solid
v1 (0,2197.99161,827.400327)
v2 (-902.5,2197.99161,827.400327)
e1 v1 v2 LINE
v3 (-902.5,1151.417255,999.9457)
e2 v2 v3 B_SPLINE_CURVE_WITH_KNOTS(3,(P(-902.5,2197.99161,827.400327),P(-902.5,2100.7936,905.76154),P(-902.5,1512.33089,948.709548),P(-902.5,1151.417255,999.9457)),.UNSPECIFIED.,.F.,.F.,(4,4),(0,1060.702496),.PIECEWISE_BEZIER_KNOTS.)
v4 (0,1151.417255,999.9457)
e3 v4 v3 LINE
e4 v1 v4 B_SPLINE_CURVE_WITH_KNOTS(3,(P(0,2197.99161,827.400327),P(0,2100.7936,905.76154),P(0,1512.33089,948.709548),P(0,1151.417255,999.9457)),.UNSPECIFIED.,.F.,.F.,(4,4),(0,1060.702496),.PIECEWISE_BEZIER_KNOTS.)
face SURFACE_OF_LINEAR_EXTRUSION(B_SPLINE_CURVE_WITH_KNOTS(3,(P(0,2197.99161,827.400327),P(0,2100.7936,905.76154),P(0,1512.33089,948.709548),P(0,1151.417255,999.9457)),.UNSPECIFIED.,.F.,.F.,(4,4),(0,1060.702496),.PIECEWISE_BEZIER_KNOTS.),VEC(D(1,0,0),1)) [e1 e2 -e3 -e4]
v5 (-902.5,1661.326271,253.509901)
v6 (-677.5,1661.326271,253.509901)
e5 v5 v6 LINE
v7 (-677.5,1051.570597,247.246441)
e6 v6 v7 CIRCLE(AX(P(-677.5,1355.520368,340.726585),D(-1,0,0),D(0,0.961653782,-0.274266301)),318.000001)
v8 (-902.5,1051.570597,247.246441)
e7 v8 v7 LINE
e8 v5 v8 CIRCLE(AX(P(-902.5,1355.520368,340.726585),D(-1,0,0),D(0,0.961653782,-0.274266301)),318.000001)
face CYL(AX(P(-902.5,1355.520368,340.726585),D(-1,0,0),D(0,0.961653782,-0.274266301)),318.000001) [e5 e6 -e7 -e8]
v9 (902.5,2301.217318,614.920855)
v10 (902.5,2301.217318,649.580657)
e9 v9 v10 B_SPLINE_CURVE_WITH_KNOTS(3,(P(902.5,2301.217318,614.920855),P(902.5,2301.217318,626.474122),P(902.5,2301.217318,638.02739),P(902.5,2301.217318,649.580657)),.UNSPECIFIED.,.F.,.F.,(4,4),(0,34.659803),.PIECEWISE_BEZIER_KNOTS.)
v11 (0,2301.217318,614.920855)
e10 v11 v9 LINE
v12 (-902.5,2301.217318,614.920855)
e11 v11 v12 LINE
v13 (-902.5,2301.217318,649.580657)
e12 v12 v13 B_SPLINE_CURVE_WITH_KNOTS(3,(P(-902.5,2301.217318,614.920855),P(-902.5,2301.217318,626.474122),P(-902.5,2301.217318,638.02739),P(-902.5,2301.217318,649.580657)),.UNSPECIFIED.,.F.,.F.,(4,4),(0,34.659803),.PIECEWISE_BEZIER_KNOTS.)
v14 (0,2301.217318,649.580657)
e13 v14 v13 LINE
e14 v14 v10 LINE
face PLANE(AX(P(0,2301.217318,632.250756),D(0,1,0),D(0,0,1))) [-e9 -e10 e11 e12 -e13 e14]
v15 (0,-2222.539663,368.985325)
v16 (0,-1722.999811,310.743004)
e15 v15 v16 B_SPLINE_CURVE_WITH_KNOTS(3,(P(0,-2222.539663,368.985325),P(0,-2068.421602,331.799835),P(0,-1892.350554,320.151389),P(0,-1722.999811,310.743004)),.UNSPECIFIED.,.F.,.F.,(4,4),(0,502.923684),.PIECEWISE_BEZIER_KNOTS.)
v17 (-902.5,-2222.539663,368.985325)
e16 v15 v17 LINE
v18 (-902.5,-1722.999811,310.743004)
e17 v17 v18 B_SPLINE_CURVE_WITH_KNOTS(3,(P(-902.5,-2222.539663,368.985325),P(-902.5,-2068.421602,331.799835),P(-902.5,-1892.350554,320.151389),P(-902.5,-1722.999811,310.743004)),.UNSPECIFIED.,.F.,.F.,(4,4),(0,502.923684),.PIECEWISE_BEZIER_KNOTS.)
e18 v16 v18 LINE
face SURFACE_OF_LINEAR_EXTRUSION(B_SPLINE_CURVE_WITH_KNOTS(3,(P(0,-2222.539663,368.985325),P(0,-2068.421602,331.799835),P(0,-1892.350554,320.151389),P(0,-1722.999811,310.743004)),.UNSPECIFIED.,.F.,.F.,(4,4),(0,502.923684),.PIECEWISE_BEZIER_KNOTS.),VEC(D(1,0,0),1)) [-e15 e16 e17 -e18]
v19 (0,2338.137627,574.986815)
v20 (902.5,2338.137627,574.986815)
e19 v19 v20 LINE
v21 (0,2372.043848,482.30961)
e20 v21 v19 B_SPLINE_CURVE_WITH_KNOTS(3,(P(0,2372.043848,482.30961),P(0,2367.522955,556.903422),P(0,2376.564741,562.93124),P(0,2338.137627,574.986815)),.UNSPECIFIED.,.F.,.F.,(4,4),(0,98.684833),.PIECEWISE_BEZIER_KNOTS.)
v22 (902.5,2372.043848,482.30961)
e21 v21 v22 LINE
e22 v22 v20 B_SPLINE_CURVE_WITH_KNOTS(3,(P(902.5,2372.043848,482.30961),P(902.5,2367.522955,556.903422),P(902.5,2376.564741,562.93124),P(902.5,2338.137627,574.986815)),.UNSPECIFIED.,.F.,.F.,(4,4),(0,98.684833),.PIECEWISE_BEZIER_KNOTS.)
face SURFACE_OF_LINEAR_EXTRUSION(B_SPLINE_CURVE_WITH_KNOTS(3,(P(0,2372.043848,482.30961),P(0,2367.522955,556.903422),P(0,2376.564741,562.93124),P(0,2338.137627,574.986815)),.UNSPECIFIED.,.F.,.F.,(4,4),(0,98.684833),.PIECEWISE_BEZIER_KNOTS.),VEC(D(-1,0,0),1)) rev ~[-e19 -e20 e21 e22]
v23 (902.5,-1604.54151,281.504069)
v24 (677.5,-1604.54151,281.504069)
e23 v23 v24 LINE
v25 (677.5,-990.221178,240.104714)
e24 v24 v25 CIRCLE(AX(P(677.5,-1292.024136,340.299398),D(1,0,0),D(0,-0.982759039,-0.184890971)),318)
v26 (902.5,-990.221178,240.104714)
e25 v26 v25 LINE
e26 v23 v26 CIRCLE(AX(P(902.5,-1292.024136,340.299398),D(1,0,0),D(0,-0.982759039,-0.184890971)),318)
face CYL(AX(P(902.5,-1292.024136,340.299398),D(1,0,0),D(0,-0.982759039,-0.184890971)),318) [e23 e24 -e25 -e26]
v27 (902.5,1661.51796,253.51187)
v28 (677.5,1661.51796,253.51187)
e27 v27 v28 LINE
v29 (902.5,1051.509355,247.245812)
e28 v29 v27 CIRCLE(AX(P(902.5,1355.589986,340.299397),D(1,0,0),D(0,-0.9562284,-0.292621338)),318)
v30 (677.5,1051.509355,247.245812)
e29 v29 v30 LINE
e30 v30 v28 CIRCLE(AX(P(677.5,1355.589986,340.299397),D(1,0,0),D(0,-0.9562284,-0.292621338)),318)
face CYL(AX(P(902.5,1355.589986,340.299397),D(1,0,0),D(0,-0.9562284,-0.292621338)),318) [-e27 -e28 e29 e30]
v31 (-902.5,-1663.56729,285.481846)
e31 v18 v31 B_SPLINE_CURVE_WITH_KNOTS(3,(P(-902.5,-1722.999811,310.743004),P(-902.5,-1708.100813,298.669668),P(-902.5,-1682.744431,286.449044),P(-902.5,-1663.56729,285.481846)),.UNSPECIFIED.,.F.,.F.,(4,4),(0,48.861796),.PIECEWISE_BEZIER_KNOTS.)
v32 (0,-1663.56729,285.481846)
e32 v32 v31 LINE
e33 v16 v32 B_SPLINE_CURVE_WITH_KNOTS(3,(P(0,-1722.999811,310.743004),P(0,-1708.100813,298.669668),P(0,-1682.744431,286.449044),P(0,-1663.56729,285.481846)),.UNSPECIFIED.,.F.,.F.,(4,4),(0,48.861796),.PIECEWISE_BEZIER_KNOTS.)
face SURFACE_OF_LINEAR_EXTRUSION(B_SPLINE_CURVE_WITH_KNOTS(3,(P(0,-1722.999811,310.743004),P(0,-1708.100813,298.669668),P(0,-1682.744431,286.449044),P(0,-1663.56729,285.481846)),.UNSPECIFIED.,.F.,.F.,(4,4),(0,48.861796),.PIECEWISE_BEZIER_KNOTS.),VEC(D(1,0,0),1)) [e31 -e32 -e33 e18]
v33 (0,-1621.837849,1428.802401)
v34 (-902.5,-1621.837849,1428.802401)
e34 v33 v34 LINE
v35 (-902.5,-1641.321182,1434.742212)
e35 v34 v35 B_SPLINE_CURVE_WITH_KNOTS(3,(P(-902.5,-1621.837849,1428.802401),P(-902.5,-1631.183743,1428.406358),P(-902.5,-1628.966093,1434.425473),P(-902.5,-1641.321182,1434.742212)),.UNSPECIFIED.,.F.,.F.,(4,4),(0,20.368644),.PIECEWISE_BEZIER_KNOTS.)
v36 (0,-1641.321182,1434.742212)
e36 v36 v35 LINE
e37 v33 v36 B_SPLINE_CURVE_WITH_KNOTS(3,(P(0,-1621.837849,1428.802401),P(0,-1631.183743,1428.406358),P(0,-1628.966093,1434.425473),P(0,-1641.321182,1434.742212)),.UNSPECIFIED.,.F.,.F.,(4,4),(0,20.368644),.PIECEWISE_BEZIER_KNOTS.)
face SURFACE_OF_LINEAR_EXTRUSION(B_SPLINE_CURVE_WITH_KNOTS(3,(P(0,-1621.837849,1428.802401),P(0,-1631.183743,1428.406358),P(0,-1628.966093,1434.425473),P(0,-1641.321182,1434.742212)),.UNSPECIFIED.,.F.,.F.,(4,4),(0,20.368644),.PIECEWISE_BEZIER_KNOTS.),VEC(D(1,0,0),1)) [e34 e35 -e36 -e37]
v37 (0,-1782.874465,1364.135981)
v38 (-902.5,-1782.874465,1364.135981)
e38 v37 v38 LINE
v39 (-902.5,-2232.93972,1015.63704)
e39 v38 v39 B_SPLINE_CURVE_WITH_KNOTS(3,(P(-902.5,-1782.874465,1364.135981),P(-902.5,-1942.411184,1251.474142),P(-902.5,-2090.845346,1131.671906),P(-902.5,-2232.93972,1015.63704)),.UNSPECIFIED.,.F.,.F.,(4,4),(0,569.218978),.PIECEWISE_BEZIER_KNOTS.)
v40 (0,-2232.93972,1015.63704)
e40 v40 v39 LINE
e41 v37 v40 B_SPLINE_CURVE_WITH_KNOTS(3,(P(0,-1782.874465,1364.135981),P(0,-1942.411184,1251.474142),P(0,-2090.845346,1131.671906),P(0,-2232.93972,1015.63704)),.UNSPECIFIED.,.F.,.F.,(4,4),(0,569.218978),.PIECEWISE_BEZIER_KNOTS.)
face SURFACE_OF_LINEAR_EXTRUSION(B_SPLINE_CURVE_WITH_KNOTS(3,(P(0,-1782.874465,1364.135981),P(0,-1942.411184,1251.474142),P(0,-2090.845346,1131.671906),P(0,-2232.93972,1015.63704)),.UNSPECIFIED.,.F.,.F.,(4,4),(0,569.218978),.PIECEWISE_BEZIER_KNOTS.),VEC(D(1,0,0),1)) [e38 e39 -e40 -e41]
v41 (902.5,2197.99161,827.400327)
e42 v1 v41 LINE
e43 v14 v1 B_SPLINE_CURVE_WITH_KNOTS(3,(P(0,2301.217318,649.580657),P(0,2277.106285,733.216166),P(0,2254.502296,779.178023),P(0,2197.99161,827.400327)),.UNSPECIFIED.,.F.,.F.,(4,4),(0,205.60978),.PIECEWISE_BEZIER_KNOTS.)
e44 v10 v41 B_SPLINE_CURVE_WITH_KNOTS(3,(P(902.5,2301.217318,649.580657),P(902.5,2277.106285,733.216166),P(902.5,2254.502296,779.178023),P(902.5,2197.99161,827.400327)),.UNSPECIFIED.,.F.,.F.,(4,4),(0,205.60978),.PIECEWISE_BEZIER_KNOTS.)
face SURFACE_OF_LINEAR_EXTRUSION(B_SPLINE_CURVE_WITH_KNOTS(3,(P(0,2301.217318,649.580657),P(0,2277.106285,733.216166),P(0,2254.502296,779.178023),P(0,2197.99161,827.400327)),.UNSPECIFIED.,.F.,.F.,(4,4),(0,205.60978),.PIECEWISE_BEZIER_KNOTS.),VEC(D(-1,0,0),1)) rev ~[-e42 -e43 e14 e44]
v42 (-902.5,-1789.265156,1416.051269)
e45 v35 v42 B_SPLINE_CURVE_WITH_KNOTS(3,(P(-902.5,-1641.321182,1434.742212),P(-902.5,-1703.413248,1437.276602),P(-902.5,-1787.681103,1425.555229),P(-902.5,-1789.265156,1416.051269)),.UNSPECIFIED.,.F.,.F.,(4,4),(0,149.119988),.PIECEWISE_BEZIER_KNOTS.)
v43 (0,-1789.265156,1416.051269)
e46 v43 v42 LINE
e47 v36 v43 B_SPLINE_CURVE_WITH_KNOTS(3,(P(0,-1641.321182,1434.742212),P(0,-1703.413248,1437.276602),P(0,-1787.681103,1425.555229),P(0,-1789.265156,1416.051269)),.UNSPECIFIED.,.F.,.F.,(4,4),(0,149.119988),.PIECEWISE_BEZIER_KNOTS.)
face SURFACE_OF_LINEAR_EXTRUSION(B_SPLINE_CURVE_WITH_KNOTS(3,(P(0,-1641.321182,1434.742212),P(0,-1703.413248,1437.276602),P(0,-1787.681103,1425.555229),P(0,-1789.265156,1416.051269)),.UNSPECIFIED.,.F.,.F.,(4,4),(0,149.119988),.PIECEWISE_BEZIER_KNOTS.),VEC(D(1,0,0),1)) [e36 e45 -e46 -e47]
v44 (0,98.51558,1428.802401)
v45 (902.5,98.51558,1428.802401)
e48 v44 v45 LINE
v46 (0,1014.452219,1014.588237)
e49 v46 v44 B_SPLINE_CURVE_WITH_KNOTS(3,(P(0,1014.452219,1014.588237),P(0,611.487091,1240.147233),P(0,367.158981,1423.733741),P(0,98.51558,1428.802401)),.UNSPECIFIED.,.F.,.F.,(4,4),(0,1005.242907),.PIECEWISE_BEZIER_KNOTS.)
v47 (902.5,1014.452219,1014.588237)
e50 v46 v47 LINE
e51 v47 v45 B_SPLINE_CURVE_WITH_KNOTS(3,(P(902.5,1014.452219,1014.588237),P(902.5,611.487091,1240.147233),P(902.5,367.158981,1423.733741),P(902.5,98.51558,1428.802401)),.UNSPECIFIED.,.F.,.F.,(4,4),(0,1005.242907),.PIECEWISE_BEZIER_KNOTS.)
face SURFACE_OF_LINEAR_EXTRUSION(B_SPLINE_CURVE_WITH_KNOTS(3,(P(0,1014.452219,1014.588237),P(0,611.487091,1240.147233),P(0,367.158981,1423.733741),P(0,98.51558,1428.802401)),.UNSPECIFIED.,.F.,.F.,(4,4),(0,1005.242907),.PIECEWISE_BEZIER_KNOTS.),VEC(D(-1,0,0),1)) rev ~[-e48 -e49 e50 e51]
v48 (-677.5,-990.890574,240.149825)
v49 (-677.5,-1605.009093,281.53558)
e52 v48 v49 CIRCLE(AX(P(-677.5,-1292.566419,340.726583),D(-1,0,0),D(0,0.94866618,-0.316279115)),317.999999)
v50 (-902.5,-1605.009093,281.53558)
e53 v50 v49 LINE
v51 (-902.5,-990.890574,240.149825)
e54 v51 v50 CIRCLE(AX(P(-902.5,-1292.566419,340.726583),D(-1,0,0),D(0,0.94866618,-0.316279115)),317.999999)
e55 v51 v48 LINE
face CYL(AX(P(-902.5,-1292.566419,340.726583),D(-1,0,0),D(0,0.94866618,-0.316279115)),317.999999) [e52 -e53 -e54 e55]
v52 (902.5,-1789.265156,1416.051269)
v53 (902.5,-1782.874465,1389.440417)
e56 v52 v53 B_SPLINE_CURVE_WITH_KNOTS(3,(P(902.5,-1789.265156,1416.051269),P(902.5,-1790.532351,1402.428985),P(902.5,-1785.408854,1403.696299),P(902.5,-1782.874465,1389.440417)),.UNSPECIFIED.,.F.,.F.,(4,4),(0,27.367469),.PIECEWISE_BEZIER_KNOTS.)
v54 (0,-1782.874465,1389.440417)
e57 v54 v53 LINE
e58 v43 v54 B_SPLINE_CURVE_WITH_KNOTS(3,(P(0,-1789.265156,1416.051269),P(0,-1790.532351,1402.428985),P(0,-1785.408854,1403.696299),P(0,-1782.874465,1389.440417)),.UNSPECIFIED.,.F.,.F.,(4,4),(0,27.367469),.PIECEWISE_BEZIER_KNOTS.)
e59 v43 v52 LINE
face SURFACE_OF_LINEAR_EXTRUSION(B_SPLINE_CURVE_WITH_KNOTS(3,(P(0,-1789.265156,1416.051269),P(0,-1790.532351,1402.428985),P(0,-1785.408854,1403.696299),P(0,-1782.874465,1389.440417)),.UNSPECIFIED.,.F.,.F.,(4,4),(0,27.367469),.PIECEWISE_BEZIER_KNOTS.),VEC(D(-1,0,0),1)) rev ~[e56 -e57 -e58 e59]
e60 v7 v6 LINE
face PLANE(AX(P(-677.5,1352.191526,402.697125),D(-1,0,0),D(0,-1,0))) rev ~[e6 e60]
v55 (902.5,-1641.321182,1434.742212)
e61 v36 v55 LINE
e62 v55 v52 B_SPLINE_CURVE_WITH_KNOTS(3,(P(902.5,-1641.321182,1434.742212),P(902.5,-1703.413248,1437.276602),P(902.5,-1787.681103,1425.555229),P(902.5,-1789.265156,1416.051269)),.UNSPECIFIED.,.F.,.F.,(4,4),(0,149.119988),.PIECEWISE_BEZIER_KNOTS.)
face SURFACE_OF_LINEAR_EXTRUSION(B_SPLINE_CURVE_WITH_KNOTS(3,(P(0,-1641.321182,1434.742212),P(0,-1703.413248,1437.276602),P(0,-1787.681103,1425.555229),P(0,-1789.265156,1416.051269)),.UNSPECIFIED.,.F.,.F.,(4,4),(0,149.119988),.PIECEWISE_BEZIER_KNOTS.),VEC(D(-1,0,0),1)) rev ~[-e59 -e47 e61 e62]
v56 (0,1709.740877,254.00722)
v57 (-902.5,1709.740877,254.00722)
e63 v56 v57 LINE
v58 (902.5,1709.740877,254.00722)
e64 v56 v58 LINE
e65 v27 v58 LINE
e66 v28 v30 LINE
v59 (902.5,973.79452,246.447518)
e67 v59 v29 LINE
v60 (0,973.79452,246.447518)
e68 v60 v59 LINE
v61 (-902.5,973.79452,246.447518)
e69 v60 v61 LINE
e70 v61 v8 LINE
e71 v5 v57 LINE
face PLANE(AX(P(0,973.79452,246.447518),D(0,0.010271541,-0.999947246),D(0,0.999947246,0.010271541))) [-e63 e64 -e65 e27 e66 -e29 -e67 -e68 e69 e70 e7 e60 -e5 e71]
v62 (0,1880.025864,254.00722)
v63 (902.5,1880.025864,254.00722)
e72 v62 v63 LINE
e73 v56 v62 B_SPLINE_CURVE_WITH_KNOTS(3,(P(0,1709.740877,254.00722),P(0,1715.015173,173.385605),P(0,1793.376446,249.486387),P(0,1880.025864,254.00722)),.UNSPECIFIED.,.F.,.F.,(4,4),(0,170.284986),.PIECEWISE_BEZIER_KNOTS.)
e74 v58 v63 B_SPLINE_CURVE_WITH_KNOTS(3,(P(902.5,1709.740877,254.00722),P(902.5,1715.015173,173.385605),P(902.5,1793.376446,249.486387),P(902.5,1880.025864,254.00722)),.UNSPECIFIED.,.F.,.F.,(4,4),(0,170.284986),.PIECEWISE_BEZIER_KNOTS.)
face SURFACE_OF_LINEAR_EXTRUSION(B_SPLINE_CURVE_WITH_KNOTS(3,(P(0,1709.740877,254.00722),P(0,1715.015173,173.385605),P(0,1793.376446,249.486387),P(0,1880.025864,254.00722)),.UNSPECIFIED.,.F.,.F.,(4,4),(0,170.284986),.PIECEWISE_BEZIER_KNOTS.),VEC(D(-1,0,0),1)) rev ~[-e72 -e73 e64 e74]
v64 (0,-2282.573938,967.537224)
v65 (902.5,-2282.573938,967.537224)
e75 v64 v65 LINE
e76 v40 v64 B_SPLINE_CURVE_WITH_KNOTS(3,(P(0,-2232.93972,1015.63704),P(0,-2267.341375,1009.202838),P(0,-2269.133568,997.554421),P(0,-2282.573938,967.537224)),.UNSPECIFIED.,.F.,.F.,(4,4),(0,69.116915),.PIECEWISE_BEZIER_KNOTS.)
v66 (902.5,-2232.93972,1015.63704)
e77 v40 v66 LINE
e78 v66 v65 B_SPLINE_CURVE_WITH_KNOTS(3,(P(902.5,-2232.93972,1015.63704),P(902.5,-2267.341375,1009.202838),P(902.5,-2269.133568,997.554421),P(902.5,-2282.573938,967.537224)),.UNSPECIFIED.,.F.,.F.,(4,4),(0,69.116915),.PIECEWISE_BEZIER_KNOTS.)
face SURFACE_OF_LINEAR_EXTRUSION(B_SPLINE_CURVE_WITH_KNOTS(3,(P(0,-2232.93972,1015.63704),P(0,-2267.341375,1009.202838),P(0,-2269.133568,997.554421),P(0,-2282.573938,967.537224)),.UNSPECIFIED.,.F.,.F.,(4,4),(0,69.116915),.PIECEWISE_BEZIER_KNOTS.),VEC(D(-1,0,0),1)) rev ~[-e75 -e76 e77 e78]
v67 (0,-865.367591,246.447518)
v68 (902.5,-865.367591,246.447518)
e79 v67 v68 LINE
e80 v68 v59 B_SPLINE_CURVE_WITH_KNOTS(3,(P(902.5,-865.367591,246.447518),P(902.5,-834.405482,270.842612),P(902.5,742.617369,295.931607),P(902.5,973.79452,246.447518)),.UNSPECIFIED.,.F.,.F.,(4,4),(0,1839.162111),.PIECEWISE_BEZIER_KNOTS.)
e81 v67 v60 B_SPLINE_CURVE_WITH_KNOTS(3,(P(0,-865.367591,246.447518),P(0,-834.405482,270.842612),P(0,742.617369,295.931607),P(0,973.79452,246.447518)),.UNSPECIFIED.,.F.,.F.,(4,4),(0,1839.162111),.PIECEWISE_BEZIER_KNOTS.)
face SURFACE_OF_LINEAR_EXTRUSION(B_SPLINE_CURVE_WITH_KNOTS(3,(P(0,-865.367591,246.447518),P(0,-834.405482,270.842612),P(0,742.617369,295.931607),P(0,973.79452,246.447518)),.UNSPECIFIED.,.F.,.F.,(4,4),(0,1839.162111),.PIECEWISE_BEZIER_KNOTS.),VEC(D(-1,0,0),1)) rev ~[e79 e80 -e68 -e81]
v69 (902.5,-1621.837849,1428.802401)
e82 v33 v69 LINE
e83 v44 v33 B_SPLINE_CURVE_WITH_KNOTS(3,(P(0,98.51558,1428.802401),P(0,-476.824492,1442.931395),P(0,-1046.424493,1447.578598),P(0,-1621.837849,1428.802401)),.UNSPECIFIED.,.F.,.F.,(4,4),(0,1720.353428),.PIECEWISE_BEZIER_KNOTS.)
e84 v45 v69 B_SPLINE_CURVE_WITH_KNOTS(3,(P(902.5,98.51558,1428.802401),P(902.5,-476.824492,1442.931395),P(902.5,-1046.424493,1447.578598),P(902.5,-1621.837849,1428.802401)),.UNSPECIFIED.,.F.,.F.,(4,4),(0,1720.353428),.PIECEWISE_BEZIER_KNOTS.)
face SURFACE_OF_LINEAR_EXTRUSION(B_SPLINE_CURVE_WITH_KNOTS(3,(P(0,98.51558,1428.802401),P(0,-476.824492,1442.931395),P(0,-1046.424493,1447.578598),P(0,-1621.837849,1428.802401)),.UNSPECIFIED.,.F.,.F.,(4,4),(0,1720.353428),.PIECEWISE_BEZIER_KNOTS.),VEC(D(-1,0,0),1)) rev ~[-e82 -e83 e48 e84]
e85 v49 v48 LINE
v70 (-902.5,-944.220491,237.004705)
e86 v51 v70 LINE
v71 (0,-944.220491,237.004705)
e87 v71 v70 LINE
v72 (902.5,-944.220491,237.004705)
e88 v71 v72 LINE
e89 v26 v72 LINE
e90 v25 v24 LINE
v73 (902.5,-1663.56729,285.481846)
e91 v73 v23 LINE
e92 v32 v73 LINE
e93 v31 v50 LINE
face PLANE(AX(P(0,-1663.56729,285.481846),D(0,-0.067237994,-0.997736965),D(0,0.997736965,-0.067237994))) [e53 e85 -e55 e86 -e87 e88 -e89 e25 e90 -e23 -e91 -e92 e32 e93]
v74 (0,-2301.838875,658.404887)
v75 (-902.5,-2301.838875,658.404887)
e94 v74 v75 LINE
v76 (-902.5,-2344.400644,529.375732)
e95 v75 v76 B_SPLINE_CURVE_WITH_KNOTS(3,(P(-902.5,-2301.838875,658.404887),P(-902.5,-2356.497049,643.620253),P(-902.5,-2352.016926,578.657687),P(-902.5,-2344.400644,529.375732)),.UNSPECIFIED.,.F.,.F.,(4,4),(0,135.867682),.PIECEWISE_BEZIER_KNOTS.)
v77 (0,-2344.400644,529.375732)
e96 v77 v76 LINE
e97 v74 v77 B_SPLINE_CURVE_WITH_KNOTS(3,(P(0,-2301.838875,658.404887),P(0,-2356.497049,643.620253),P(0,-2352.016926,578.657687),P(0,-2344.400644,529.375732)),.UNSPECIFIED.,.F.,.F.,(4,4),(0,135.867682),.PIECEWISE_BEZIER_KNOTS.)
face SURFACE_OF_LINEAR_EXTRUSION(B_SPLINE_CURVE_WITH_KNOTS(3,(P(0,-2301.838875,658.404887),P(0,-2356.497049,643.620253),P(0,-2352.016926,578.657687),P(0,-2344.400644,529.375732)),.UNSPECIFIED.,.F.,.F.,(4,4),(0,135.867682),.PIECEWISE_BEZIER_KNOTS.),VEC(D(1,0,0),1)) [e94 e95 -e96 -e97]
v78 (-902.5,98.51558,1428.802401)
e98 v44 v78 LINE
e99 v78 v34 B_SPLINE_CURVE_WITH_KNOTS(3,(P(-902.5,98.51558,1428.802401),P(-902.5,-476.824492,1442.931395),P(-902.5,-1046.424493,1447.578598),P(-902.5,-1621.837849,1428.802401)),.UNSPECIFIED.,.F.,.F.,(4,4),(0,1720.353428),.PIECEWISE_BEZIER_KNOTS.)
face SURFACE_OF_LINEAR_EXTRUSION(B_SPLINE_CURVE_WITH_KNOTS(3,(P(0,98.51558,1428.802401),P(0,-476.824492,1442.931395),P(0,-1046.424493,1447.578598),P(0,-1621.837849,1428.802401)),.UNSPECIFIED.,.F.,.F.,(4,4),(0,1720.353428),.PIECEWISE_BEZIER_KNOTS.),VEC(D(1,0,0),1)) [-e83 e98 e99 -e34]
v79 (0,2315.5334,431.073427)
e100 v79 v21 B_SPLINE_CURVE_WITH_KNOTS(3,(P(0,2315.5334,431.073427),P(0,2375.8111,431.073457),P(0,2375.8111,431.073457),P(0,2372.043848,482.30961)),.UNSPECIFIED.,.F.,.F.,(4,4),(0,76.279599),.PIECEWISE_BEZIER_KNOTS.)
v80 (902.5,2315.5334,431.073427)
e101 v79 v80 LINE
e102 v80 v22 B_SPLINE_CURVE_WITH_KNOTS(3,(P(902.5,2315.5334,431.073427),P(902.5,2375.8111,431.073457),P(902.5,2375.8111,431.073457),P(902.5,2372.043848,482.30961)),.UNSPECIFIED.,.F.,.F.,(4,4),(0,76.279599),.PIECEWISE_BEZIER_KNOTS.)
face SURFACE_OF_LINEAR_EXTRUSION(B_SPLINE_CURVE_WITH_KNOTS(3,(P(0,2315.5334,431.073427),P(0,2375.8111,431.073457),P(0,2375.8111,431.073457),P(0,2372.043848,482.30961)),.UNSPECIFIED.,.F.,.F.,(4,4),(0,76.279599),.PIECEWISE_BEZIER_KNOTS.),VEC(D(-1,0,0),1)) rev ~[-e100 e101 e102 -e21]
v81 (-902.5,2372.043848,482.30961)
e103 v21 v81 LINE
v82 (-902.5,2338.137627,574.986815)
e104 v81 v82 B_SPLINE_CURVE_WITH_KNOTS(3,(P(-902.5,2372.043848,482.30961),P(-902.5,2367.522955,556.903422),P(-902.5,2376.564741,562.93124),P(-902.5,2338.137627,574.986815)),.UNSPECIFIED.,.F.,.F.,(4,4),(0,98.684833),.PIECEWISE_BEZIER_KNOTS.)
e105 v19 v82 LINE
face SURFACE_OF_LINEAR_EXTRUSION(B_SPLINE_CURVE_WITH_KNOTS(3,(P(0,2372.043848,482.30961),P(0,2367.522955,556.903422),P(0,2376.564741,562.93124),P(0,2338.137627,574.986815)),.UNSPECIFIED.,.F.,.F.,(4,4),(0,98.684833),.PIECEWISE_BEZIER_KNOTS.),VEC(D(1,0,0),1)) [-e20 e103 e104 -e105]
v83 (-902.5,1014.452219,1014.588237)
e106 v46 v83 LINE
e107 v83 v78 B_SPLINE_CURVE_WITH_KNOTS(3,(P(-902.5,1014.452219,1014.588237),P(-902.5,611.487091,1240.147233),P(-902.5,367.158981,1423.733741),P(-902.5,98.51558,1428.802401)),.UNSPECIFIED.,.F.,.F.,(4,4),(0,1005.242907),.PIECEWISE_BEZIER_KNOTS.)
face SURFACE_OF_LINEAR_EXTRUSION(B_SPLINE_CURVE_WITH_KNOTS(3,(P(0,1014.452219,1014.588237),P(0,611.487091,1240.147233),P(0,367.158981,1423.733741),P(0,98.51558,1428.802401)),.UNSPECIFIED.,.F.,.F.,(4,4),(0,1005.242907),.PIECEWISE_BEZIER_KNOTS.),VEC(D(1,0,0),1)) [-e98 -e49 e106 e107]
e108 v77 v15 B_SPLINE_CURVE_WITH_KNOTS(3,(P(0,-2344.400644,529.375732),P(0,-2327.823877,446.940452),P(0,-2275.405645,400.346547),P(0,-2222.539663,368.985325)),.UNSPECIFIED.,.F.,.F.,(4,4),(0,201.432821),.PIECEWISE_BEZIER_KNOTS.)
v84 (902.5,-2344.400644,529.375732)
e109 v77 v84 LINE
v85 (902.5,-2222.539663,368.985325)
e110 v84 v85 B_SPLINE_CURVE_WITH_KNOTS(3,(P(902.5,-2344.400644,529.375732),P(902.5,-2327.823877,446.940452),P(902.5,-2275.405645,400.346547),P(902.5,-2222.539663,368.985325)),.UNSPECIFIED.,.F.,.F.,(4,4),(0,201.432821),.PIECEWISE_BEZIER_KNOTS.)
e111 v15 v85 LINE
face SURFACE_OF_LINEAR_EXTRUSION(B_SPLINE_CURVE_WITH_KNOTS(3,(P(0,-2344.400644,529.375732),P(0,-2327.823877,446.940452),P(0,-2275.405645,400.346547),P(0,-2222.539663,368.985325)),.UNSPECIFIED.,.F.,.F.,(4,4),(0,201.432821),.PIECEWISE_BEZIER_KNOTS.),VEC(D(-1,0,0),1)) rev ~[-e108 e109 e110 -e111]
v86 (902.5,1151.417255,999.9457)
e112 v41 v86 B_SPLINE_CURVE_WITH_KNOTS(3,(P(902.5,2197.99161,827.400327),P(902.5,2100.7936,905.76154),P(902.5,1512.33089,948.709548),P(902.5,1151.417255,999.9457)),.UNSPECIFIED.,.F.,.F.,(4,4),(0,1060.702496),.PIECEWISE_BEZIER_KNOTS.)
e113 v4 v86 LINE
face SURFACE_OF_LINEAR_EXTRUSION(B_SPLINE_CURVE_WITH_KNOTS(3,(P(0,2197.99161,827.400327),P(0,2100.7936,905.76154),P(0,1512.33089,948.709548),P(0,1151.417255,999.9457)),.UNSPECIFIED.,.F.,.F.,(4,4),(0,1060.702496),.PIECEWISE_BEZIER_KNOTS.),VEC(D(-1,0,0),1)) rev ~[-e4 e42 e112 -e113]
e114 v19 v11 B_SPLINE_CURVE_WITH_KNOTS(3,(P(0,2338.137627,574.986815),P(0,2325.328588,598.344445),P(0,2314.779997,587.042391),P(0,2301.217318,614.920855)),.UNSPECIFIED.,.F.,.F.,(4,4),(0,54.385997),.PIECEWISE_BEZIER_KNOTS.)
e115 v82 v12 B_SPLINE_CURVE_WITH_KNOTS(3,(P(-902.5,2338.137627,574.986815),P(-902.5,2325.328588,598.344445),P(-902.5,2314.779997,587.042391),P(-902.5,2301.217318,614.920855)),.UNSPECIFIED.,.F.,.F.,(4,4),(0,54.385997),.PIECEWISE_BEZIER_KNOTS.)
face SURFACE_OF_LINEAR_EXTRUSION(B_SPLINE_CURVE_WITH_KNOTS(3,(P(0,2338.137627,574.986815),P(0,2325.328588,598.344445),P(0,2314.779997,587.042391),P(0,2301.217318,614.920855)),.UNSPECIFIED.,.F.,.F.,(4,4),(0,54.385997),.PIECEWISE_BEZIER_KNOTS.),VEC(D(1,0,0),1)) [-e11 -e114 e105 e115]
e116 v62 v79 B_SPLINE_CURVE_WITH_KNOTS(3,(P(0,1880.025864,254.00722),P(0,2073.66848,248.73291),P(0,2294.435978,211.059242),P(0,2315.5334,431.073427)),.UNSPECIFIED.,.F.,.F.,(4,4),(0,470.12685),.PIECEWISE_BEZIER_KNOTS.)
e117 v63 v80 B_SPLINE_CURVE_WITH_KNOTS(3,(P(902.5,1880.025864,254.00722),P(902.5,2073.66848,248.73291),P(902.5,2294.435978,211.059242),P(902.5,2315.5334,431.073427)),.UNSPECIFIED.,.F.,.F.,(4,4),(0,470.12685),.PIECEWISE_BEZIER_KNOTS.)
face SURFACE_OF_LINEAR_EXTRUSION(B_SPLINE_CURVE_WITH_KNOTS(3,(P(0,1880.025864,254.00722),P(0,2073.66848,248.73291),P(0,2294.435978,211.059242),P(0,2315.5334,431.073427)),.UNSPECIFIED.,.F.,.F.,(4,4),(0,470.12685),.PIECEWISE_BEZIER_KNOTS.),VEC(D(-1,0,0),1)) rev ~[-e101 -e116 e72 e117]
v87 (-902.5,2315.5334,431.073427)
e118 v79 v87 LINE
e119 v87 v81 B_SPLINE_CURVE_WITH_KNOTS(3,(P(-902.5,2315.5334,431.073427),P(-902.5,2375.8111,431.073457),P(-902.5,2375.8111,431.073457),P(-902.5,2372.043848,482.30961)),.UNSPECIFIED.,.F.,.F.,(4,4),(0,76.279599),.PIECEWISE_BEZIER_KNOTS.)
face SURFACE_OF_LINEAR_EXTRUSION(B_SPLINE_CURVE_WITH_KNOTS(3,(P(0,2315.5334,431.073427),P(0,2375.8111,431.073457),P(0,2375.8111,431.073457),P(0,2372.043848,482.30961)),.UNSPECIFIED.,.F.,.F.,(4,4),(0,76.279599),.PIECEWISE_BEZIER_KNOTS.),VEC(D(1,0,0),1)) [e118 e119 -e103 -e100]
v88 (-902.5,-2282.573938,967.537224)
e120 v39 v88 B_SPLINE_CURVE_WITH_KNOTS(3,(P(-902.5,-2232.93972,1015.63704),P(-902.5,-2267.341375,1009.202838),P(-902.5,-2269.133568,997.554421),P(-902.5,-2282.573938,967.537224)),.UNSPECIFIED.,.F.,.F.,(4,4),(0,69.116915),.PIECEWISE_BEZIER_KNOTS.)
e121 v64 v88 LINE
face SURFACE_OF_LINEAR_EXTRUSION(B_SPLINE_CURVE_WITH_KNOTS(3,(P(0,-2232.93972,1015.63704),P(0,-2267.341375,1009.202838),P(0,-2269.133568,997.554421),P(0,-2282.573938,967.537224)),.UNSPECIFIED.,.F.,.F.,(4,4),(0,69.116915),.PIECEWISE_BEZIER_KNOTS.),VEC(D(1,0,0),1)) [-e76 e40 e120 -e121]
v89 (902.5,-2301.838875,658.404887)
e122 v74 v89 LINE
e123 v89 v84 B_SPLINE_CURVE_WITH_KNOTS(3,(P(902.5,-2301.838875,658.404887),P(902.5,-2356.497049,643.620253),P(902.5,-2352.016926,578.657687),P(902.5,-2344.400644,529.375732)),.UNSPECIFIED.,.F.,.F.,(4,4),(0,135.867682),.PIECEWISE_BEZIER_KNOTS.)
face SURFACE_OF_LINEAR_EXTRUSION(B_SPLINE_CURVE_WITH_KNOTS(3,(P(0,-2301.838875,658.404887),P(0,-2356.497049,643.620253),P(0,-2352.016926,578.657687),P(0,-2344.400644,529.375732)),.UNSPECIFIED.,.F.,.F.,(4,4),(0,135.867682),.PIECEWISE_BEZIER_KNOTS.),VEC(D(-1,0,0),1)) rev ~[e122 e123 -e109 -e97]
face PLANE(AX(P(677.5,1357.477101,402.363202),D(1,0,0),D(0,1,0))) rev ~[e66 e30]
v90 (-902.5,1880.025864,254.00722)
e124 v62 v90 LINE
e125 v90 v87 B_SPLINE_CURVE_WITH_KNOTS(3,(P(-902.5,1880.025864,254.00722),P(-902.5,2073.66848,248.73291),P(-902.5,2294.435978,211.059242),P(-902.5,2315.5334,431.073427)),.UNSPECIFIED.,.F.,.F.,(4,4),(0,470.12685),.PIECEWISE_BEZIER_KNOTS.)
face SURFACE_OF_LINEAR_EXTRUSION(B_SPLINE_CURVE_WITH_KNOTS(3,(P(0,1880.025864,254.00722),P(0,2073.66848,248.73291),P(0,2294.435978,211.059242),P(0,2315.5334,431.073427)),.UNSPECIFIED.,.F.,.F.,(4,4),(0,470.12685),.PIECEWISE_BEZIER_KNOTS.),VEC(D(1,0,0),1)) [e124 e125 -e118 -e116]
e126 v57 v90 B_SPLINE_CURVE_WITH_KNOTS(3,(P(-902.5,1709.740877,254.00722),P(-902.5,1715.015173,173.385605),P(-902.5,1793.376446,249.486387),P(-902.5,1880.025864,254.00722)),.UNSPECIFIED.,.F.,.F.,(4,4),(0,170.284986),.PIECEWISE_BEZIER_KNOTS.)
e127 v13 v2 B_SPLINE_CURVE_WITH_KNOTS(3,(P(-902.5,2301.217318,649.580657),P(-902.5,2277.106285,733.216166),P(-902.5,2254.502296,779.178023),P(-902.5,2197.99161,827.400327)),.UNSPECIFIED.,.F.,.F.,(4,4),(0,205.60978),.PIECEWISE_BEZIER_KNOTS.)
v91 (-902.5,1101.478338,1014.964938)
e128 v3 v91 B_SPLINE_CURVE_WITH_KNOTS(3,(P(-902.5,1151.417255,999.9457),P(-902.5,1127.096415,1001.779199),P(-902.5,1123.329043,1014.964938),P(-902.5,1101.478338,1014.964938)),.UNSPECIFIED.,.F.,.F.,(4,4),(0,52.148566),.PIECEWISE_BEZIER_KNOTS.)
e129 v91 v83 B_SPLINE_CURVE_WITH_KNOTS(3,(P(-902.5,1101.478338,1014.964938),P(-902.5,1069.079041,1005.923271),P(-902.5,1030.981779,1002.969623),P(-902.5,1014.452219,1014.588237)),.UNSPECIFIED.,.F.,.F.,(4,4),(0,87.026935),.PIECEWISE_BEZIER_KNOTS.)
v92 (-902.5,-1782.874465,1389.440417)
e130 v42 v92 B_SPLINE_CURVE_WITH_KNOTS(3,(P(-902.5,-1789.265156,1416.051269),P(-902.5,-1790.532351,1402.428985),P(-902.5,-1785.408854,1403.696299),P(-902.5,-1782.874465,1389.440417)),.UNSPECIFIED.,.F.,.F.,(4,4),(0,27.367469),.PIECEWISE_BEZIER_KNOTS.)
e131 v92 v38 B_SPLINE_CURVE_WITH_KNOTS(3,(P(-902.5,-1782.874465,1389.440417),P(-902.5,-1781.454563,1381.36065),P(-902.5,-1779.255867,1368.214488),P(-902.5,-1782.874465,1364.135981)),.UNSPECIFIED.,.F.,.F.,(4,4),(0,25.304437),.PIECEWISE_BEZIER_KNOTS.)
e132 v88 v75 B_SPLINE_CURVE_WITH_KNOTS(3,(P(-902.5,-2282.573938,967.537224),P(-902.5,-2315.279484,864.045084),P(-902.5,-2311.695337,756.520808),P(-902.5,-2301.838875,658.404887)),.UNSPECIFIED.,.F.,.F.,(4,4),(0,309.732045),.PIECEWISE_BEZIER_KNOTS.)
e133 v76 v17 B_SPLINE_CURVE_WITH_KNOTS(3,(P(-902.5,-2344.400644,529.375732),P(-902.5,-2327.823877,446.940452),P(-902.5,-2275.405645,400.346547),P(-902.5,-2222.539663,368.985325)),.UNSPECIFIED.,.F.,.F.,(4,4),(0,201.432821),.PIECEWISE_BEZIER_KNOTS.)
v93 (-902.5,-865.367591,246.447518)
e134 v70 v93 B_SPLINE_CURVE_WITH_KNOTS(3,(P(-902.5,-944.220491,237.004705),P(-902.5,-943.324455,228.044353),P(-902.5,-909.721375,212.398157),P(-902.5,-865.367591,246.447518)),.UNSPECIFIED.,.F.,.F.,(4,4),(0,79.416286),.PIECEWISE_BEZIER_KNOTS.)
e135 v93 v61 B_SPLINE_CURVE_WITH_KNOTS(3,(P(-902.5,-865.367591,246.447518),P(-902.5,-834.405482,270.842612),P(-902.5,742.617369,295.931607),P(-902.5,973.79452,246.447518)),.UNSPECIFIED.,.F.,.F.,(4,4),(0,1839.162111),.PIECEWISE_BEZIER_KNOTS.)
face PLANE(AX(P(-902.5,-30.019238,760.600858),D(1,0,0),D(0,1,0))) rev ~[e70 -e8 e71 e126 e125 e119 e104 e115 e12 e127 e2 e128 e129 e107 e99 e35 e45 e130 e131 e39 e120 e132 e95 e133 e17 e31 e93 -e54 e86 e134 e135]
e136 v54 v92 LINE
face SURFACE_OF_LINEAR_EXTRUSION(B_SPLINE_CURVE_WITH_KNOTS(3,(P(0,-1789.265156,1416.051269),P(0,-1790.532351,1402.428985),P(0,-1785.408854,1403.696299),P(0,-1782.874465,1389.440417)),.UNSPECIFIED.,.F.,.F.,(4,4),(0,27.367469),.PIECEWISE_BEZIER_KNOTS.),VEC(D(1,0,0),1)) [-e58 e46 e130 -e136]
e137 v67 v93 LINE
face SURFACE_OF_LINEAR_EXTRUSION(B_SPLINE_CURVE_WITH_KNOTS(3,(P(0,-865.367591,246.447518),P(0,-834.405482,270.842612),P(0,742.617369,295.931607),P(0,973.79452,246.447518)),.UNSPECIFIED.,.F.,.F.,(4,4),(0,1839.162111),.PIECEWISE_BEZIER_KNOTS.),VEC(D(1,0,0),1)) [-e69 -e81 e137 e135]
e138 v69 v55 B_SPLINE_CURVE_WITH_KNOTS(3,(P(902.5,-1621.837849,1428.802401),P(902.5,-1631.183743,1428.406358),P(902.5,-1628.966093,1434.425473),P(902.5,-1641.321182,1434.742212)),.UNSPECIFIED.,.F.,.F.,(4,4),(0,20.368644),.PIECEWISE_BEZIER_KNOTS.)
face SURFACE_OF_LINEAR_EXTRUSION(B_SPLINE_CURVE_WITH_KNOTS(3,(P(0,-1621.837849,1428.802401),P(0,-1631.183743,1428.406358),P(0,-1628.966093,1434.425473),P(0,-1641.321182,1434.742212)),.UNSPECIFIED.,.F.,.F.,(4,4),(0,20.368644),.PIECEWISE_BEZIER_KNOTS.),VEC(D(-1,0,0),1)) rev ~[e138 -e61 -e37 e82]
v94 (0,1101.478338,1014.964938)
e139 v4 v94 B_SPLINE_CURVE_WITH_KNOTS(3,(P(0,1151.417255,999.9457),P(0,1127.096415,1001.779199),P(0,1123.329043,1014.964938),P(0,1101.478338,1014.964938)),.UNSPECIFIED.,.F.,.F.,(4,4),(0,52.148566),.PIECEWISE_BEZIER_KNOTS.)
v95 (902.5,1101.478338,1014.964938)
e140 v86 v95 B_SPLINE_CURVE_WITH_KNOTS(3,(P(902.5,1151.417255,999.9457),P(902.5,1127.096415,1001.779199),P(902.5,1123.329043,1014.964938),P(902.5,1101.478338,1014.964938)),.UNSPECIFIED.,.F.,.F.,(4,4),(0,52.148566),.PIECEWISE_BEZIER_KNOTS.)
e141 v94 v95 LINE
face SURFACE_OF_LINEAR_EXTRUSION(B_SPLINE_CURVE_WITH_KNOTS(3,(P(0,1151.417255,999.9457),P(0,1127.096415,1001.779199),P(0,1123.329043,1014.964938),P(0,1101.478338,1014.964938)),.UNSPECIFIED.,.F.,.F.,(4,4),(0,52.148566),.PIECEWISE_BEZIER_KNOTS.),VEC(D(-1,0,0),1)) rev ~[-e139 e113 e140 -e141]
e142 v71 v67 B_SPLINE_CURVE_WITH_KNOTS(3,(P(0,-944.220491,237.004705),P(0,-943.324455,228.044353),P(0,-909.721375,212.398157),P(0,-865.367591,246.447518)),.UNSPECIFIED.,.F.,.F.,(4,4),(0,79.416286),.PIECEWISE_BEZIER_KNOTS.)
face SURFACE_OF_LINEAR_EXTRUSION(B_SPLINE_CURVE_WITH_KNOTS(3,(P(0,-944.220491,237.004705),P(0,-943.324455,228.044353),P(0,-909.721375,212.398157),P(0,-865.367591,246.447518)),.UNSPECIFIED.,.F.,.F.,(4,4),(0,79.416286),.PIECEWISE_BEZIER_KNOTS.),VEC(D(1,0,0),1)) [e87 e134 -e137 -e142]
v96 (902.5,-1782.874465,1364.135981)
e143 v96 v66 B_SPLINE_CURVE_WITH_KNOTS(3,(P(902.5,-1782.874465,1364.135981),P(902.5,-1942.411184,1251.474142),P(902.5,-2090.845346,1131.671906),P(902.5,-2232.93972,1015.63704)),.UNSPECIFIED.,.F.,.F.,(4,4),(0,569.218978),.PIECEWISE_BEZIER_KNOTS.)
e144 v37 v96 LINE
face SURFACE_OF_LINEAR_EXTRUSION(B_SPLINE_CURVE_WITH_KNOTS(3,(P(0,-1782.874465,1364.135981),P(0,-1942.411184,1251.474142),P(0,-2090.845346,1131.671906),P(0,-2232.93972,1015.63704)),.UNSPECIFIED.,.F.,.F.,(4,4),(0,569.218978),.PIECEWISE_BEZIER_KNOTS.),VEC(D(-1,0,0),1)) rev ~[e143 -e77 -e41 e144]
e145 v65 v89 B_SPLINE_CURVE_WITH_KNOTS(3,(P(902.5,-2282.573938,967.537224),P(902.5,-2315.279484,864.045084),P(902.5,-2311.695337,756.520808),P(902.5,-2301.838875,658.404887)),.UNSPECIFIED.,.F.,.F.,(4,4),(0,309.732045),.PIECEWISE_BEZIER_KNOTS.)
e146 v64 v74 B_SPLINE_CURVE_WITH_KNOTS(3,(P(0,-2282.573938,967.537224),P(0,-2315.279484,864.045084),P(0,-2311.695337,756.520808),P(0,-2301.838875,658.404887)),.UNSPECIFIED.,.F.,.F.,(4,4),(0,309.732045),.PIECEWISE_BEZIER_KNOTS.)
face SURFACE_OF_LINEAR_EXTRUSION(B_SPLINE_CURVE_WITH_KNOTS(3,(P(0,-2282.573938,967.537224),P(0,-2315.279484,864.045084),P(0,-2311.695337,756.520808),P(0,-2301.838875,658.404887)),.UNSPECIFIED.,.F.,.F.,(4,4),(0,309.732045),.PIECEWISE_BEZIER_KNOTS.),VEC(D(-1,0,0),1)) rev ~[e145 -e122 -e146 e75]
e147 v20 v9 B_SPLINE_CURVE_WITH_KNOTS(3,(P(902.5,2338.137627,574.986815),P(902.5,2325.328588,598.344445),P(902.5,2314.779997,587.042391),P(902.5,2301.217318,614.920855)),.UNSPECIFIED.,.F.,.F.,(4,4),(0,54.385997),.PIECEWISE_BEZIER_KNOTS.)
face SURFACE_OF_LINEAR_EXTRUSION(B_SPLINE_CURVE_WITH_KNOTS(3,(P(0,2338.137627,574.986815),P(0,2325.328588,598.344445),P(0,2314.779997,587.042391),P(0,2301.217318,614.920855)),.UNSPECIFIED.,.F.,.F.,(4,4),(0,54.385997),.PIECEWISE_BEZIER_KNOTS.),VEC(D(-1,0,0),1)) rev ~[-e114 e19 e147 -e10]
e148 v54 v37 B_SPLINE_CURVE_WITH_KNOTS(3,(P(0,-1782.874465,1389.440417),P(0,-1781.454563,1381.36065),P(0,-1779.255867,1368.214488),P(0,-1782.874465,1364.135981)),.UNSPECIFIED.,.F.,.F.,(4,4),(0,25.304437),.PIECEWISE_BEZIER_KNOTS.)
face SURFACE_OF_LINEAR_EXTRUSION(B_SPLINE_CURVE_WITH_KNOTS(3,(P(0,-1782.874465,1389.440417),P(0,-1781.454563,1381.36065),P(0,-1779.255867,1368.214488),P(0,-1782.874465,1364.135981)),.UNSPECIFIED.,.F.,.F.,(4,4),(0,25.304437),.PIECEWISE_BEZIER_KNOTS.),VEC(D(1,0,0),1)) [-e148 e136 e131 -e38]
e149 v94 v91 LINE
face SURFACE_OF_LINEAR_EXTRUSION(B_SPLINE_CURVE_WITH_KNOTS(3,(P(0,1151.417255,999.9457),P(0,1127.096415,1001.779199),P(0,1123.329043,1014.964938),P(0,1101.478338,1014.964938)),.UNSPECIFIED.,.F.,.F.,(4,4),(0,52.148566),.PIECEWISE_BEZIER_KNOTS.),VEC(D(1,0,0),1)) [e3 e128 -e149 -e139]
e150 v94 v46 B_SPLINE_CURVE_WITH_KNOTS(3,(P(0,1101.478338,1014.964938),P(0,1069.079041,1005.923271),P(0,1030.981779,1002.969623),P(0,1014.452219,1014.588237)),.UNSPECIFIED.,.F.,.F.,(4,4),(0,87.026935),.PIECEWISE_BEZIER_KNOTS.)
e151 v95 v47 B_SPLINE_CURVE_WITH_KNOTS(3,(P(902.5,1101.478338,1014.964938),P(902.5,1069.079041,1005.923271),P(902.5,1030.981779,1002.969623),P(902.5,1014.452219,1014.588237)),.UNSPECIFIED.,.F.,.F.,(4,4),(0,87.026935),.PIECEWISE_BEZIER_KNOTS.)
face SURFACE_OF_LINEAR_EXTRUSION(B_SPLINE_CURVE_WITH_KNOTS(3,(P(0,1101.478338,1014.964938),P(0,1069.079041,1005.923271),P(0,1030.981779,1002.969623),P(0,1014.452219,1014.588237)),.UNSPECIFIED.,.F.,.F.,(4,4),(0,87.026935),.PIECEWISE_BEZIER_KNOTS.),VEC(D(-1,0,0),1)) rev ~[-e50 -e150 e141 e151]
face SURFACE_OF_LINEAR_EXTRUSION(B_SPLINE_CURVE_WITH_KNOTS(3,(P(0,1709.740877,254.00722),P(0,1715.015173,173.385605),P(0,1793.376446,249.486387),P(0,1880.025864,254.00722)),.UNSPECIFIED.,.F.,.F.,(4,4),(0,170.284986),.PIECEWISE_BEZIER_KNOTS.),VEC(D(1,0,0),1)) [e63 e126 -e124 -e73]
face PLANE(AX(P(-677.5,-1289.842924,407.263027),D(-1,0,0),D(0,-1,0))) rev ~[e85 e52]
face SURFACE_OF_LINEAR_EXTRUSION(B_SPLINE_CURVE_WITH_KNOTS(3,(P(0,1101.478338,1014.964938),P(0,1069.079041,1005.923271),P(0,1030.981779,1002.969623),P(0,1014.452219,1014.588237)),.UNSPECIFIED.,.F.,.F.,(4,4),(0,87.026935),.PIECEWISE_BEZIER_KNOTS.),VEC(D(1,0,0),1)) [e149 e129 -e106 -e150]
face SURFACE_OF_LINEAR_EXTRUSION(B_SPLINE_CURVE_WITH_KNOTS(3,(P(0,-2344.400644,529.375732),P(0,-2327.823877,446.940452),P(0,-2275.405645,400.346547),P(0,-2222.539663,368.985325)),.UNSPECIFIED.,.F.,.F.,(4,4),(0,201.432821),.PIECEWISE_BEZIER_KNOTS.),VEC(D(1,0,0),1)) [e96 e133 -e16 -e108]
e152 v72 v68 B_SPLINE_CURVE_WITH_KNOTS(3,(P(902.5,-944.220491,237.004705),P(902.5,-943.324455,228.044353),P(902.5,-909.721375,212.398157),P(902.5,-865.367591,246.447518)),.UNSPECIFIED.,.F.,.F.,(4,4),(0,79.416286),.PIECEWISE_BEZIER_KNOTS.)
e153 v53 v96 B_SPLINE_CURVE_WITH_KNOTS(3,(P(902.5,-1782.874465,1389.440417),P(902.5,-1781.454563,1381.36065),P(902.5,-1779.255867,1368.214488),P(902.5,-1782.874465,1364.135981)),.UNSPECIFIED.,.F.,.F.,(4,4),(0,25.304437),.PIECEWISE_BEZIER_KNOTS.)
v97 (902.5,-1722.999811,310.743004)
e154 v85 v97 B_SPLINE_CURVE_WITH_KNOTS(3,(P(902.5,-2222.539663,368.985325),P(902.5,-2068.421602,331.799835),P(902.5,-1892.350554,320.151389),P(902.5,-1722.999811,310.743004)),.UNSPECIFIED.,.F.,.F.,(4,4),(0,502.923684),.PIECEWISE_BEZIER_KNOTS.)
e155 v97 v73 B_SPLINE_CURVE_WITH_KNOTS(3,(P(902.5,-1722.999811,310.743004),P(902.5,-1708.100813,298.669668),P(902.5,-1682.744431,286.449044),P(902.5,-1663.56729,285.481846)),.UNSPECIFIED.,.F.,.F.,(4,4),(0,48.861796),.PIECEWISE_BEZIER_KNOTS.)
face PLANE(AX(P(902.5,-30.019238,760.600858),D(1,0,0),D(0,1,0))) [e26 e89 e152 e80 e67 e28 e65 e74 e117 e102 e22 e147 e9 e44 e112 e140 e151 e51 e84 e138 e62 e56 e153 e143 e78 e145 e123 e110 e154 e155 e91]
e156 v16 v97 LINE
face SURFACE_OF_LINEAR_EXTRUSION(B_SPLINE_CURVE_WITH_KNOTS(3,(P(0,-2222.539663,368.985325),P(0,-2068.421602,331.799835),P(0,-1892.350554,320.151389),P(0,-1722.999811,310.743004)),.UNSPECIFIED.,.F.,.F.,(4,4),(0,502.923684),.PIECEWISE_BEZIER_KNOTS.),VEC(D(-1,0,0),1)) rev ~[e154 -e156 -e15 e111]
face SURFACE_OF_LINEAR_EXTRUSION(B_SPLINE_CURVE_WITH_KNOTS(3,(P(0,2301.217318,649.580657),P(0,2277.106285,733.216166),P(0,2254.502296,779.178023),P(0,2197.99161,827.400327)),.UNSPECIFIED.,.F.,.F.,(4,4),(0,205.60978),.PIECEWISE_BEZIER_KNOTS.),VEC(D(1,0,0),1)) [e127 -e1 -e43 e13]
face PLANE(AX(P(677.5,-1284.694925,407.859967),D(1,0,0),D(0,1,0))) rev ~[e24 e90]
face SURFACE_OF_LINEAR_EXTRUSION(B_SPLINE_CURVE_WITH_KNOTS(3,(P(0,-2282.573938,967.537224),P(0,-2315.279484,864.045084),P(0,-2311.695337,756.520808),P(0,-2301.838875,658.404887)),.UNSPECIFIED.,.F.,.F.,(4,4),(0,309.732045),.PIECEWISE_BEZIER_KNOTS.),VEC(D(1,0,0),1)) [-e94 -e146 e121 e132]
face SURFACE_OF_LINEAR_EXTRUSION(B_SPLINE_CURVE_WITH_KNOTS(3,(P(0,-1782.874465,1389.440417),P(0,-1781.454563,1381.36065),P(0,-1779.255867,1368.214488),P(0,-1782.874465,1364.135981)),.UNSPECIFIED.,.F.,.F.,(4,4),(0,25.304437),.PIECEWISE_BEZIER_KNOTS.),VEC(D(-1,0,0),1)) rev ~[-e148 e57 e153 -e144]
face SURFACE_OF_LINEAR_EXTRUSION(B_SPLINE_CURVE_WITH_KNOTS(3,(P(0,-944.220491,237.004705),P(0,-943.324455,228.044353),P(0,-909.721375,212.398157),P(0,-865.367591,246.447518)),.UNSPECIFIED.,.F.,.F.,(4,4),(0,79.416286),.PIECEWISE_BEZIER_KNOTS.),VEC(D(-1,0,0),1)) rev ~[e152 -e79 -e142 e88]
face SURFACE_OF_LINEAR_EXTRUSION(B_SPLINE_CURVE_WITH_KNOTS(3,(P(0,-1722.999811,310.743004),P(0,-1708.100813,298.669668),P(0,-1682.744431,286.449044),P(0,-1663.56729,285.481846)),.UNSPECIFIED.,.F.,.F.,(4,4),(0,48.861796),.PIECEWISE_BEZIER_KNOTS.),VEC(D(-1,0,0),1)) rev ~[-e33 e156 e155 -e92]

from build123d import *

# Parameters (mm, degrees)
F1_DEPTH = 902.5
F3_DEPTH = 225
F5_DEPTH = 225


with BuildPart() as f1:
    # F0 (on Right) → F1 (new body, symmetric)
    with BuildSketch(Plane.YZ):
        with BuildLine():
            add(Edge.make_bspline(
                [(1101.478338, 1014.964938), (1069.079041, 1005.923271), (1030.981779, 1002.969623), (1014.452219, 1014.588237)],
                knots=[0, 0, 0, 0, 87.026935, 87.026935, 87.026935, 87.026935], degree=3))
            add(Edge.make_bspline(
                [(1014.452219, 1014.588237), (611.487091, 1240.147233), (367.158981, 1423.733741), (98.51558, 1428.802401)],
                knots=[0, 0, 0, 0, 1005.242907, 1005.242907, 1005.242907, 1005.242907], degree=3))
            add(Edge.make_bspline(
                [(98.51558, 1428.802401), (-476.824492, 1442.931395), (-1046.424493, 1447.578598), (-1621.837849, 1428.802401)],
                knots=[0, 0, 0, 0, 1720.353428, 1720.353428, 1720.353428, 1720.353428], degree=3))
            add(Edge.make_bspline(
                [(-1621.837849, 1428.802401), (-1631.183743, 1428.406358), (-1628.966093, 1434.425473), (-1641.321182, 1434.742212)],
                knots=[0, 0, 0, 0, 20.368644, 20.368644, 20.368644, 20.368644], degree=3))
            add(Edge.make_bspline(
                [(-1641.321182, 1434.742212), (-1703.413248, 1437.276602), (-1787.681103, 1425.555229), (-1789.265156, 1416.051269)],
                knots=[0, 0, 0, 0, 149.119988, 149.119988, 149.119988, 149.119988], degree=3))
            add(Edge.make_bspline(
                [(-1789.265156, 1416.051269), (-1790.532351, 1402.428985), (-1785.408854, 1403.696299), (-1782.874465, 1389.440417)],
                knots=[0, 0, 0, 0, 27.367469, 27.367469, 27.367469, 27.367469], degree=3))
            add(Edge.make_bspline(
                [(-1782.874465, 1389.440417), (-1781.454563, 1381.36065), (-1779.255867, 1368.214488), (-1782.874465, 1364.135981)],
                knots=[0, 0, 0, 0, 25.304437, 25.304437, 25.304437, 25.304437], degree=3))
            add(Edge.make_bspline(
                [(-1782.874465, 1364.135981), (-1942.411184, 1251.474142), (-2090.845346, 1131.671906), (-2232.93972, 1015.63704)],
                knots=[0, 0, 0, 0, 569.218978, 569.218978, 569.218978, 569.218978], degree=3))
            add(Edge.make_bspline(
                [(-2232.93972, 1015.63704), (-2267.341375, 1009.202838), (-2269.133568, 997.554421), (-2282.573938, 967.537224)],
                knots=[0, 0, 0, 0, 69.116915, 69.116915, 69.116915, 69.116915], degree=3))
            add(Edge.make_bspline(
                [(-2282.573938, 967.537224), (-2315.279484, 864.045084), (-2311.695337, 756.520808), (-2301.838875, 658.404887)],
                knots=[0, 0, 0, 0, 309.732045, 309.732045, 309.732045, 309.732045], degree=3))
            add(Edge.make_bspline(
                [(-2301.838875, 658.404887), (-2356.497049, 643.620253), (-2352.016926, 578.657687), (-2344.400644, 529.375732)],
                knots=[0, 0, 0, 0, 135.867682, 135.867682, 135.867682, 135.867682], degree=3))
            add(Edge.make_bspline(
                [(-2344.400644, 529.375732), (-2327.823877, 446.940452), (-2275.405645, 400.346547), (-2222.539663, 368.985325)],
                knots=[0, 0, 0, 0, 201.432821, 201.432821, 201.432821, 201.432821], degree=3))
            add(Edge.make_bspline(
                [(-2222.539663, 368.985325), (-2068.421602, 331.799835), (-1892.350554, 320.151389), (-1722.999811, 310.743004)],
                knots=[0, 0, 0, 0, 502.923684, 502.923684, 502.923684, 502.923684], degree=3))
            add(Edge.make_bspline(
                [(-1722.999811, 310.743004), (-1708.100813, 298.669668), (-1682.744431, 286.449044), (-1663.56729, 285.481846)],
                knots=[0, 0, 0, 0, 48.861796, 48.861796, 48.861796, 48.861796], degree=3))
            add(Edge.make_bspline(
                [(-1663.56729, 285.481846), (-1649.298017, 284.762176), (-1638.449888, 290.272975), (-1637.876511, 306.710869)],
                knots=[48.861796, 48.861796, 48.861796, 48.861796, 85.218744, 85.218744, 85.218744, 85.218744], degree=3))
            add(Edge.make_bspline(
                [(-1637.876511, 306.710869), (-1649.076819, 526.687622), (-1542.44864, 647.204399), (-1412.971497, 702.75861)],
                knots=[0, 0, 0, 0, 455.451511, 455.451511, 455.451511, 455.451511], degree=3))
            add(Edge.make_bspline(
                [(-1412.971497, 702.75861), (-1258.853316, 737.704039), (-1082.334399, 719.783306), (-989.14665, 553.568661)],
                knots=[0, 0, 0, 0, 449.316305, 449.316305, 449.316305, 449.316305], degree=3))
            add(Edge.make_bspline(
                [(-989.14665, 553.568661), (-936.602473, 454.77581), (-941.532441, 342.288904), (-944.220491, 237.004705)],
                knots=[0, 0, 0, 0, 319.735982, 319.735982, 319.735982, 319.735982], degree=3))
            add(Edge.make_bspline(
                [(-944.220491, 237.004705), (-943.324455, 228.044353), (-909.721375, 212.398157), (-865.367591, 246.447518)],
                knots=[0, 0, 0, 0, 79.416286, 79.416286, 79.416286, 79.416286], degree=3))
            add(Edge.make_bspline(
                [(-865.367591, 246.447518), (-834.405482, 270.842612), (742.617369, 295.931607), (973.79452, 246.447518)],
                knots=[0, 0, 0, 0, 1839.162111, 1839.162111, 1839.162111, 1839.162111], degree=3))
            add(Edge.make_bspline(
                [(973.79452, 246.447518), (982.639194, 467.240185), (1032.368422, 711.365521), (1331.497312, 736.230135)],
                knots=[0, 0, 0, 0, 606.496742, 606.496742, 606.496742, 606.496742], degree=3))
            add(Edge.make_bspline(
                [(1331.497312, 736.230135), (1562.060118, 742.257893), (1739.879847, 544.094384), (1709.740877, 254.00722)],
                knots=[0, 0, 0, 0, 612.867958, 612.867958, 612.867958, 612.867958], degree=3))
            add(Edge.make_bspline(
                [(1709.740877, 254.00722), (1715.015173, 173.385605), (1793.376446, 249.486387), (1880.025864, 254.00722)],
                knots=[0, 0, 0, 0, 170.284986, 170.284986, 170.284986, 170.284986], degree=3))
            add(Edge.make_bspline(
                [(1880.025864, 254.00722), (2073.66848, 248.73291), (2294.435978, 211.059242), (2315.5334, 431.073427)],
                knots=[0, 0, 0, 0, 470.12685, 470.12685, 470.12685, 470.12685], degree=3))
            add(Edge.make_bspline(
                [(2315.5334, 431.073427), (2375.8111, 431.073457), (2375.8111, 431.073457), (2372.043848, 482.30961)],
                knots=[0, 0, 0, 0, 76.279599, 76.279599, 76.279599, 76.279599], degree=3))
            add(Edge.make_bspline(
                [(2372.043848, 482.30961), (2367.522955, 556.903422), (2376.564741, 562.93124), (2338.137627, 574.986815)],
                knots=[0, 0, 0, 0, 98.684833, 98.684833, 98.684833, 98.684833], degree=3))
            add(Edge.make_bspline(
                [(2338.137627, 574.986815), (2325.328588, 598.344445), (2314.779997, 587.042391), (2301.217318, 614.920855)],
                knots=[0, 0, 0, 0, 54.385997, 54.385997, 54.385997, 54.385997], degree=3))
            add(Edge.make_bspline(
                [(2301.217318, 614.920855), (2301.217318, 626.474122), (2301.217318, 638.02739), (2301.217318, 649.580657)],
                knots=[0, 0, 0, 0, 34.659803, 34.659803, 34.659803, 34.659803], degree=3))
            add(Edge.make_bspline(
                [(2301.217318, 649.580657), (2277.106285, 733.216166), (2254.502296, 779.178023), (2197.99161, 827.400327)],
                knots=[0, 0, 0, 0, 205.60978, 205.60978, 205.60978, 205.60978], degree=3))
            add(Edge.make_bspline(
                [(2197.99161, 827.400327), (2100.7936, 905.76154), (1512.33089, 948.709548), (1151.417255, 999.9457)],
                knots=[0, 0, 0, 0, 1060.702496, 1060.702496, 1060.702496, 1060.702496], degree=3))
            add(Edge.make_bspline(
                [(1151.417255, 999.9457), (1127.096415, 1001.779199), (1123.329043, 1014.964938), (1101.478338, 1014.964938)],
                knots=[0, 0, 0, 0, 52.148566, 52.148566, 52.148566, 52.148566], degree=3))
        make_face()
        with BuildLine():
            Line((973.79452, 246.447518), (1709.740877, 254.00722))
            add(Edge.make_bspline(
                [(1331.497312, 736.230135), (1562.060118, 742.257893), (1739.879847, 544.094384), (1709.740877, 254.00722)],
                knots=[0, 0, 0, 0, 612.867958, 612.867958, 612.867958, 612.867958], degree=3))
            add(Edge.make_bspline(
                [(973.79452, 246.447518), (982.639194, 467.240185), (1032.368422, 711.365521), (1331.497312, 736.230135)],
                knots=[0, 0, 0, 0, 606.496742, 606.496742, 606.496742, 606.496742], degree=3))
        make_face()
        with BuildLine():
            add(Edge.make_bspline(
                [(-1663.56729, 285.481846), (-1649.298017, 284.762176), (-1638.449888, 290.272975), (-1637.876511, 306.710869)],
                knots=[48.861796, 48.861796, 48.861796, 48.861796, 85.218744, 85.218744, 85.218744, 85.218744], degree=3))
            Line((-1663.56729, 285.481846), (-944.220491, 237.004705))
            add(Edge.make_bspline(
                [(-989.14665, 553.568661), (-936.602473, 454.77581), (-941.532441, 342.288904), (-944.220491, 237.004705)],
                knots=[0, 0, 0, 0, 319.735982, 319.735982, 319.735982, 319.735982], degree=3))
            add(Edge.make_bspline(
                [(-1412.971497, 702.75861), (-1258.853316, 737.704039), (-1082.334399, 719.783306), (-989.14665, 553.568661)],
                knots=[0, 0, 0, 0, 449.316305, 449.316305, 449.316305, 449.316305], degree=3))
            add(Edge.make_bspline(
                [(-1637.876511, 306.710869), (-1649.076819, 526.687622), (-1542.44864, 647.204399), (-1412.971497, 702.75861)],
                knots=[0, 0, 0, 0, 455.451511, 455.451511, 455.451511, 455.451511], degree=3))
        make_face()
    extrude(amount=F1_DEPTH, both=True)

    # F2 (on face) → F3 (join)
    with BuildSketch(Plane(origin=(-902.5, 0, 0), x_dir=(0, -1, 0), z_dir=(-1, 0, 0))):
        with BuildLine():
            ThreePointArc((-1051.570597, 247.246441), (-1041.052542, 293.461517), (-1037.520368, 340.726584))
            ThreePointArc((-1037.520368, 340.726584), (-1399.552872, 655.663306), (-1661.326271, 253.509901))
            Line((-1661.326271, 253.509901), (-1051.570597, 247.246441))
        make_face()
        with BuildLine():
            Line((-1051.570597, 247.246441), (-1661.326271, 253.509901))
            ThreePointArc((-1661.326271, 253.509901), (-1358.786718, 22.74336), (-1051.570597, 247.246441))
        make_face()
        with BuildLine():
            ThreePointArc((1610.566419, 340.726584), (1241.61997, 654.619017), (990.890574, 240.149825))
            Line((990.890574, 240.149825), (1605.009093, 281.53558))
            ThreePointArc((1605.009093, 281.53558), (1609.174039, 311.000927), (1610.566419, 340.726584))
        make_face()
        with BuildLine():
            Line((1605.009093, 281.53558), (990.890574, 240.149825))
            ThreePointArc((990.890574, 240.149825), (1313.948101, 23.446229), (1605.009093, 281.53558))
        make_face()
    extrude(amount=-F3_DEPTH)

    # F4 (on face) → F5 (join)
    with BuildSketch(Plane.YZ.offset(902.5)):
        with BuildLine():
            ThreePointArc((-990.221178, 240.104714), (-978.09951, 289.551691), (-974.024136, 340.299398))
            ThreePointArc((-974.024136, 340.299398), (-1321.549336, 656.925775), (-1604.54151, 281.504069))
            Line((-1604.54151, 281.504069), (-990.221178, 240.104714))
        make_face()
        with BuildLine():
            Line((-990.221178, 240.104714), (-1604.54151, 281.504069))
            ThreePointArc((-1604.54151, 281.504069), (-1313.405818, 23.019043), (-990.221178, 240.104714))
        make_face()
        with BuildLine():
            ThreePointArc((1673.589986, 340.299398), (1308.545542, 654.800304), (1051.509355, 247.245812))
            Line((1051.509355, 247.245812), (1661.51796, 253.51187))
            ThreePointArc((1661.51796, 253.51187), (1670.55752, 296.487845), (1673.589986, 340.299398))
        make_face()
        with BuildLine():
            Line((1661.51796, 253.51187), (1051.509355, 247.245812))
            ThreePointArc((1051.509355, 247.245812), (1358.856336, 22.316173), (1661.51796, 253.51187))
        make_face()
    extrude(amount=-F5_DEPTH)


solid = f1.part
